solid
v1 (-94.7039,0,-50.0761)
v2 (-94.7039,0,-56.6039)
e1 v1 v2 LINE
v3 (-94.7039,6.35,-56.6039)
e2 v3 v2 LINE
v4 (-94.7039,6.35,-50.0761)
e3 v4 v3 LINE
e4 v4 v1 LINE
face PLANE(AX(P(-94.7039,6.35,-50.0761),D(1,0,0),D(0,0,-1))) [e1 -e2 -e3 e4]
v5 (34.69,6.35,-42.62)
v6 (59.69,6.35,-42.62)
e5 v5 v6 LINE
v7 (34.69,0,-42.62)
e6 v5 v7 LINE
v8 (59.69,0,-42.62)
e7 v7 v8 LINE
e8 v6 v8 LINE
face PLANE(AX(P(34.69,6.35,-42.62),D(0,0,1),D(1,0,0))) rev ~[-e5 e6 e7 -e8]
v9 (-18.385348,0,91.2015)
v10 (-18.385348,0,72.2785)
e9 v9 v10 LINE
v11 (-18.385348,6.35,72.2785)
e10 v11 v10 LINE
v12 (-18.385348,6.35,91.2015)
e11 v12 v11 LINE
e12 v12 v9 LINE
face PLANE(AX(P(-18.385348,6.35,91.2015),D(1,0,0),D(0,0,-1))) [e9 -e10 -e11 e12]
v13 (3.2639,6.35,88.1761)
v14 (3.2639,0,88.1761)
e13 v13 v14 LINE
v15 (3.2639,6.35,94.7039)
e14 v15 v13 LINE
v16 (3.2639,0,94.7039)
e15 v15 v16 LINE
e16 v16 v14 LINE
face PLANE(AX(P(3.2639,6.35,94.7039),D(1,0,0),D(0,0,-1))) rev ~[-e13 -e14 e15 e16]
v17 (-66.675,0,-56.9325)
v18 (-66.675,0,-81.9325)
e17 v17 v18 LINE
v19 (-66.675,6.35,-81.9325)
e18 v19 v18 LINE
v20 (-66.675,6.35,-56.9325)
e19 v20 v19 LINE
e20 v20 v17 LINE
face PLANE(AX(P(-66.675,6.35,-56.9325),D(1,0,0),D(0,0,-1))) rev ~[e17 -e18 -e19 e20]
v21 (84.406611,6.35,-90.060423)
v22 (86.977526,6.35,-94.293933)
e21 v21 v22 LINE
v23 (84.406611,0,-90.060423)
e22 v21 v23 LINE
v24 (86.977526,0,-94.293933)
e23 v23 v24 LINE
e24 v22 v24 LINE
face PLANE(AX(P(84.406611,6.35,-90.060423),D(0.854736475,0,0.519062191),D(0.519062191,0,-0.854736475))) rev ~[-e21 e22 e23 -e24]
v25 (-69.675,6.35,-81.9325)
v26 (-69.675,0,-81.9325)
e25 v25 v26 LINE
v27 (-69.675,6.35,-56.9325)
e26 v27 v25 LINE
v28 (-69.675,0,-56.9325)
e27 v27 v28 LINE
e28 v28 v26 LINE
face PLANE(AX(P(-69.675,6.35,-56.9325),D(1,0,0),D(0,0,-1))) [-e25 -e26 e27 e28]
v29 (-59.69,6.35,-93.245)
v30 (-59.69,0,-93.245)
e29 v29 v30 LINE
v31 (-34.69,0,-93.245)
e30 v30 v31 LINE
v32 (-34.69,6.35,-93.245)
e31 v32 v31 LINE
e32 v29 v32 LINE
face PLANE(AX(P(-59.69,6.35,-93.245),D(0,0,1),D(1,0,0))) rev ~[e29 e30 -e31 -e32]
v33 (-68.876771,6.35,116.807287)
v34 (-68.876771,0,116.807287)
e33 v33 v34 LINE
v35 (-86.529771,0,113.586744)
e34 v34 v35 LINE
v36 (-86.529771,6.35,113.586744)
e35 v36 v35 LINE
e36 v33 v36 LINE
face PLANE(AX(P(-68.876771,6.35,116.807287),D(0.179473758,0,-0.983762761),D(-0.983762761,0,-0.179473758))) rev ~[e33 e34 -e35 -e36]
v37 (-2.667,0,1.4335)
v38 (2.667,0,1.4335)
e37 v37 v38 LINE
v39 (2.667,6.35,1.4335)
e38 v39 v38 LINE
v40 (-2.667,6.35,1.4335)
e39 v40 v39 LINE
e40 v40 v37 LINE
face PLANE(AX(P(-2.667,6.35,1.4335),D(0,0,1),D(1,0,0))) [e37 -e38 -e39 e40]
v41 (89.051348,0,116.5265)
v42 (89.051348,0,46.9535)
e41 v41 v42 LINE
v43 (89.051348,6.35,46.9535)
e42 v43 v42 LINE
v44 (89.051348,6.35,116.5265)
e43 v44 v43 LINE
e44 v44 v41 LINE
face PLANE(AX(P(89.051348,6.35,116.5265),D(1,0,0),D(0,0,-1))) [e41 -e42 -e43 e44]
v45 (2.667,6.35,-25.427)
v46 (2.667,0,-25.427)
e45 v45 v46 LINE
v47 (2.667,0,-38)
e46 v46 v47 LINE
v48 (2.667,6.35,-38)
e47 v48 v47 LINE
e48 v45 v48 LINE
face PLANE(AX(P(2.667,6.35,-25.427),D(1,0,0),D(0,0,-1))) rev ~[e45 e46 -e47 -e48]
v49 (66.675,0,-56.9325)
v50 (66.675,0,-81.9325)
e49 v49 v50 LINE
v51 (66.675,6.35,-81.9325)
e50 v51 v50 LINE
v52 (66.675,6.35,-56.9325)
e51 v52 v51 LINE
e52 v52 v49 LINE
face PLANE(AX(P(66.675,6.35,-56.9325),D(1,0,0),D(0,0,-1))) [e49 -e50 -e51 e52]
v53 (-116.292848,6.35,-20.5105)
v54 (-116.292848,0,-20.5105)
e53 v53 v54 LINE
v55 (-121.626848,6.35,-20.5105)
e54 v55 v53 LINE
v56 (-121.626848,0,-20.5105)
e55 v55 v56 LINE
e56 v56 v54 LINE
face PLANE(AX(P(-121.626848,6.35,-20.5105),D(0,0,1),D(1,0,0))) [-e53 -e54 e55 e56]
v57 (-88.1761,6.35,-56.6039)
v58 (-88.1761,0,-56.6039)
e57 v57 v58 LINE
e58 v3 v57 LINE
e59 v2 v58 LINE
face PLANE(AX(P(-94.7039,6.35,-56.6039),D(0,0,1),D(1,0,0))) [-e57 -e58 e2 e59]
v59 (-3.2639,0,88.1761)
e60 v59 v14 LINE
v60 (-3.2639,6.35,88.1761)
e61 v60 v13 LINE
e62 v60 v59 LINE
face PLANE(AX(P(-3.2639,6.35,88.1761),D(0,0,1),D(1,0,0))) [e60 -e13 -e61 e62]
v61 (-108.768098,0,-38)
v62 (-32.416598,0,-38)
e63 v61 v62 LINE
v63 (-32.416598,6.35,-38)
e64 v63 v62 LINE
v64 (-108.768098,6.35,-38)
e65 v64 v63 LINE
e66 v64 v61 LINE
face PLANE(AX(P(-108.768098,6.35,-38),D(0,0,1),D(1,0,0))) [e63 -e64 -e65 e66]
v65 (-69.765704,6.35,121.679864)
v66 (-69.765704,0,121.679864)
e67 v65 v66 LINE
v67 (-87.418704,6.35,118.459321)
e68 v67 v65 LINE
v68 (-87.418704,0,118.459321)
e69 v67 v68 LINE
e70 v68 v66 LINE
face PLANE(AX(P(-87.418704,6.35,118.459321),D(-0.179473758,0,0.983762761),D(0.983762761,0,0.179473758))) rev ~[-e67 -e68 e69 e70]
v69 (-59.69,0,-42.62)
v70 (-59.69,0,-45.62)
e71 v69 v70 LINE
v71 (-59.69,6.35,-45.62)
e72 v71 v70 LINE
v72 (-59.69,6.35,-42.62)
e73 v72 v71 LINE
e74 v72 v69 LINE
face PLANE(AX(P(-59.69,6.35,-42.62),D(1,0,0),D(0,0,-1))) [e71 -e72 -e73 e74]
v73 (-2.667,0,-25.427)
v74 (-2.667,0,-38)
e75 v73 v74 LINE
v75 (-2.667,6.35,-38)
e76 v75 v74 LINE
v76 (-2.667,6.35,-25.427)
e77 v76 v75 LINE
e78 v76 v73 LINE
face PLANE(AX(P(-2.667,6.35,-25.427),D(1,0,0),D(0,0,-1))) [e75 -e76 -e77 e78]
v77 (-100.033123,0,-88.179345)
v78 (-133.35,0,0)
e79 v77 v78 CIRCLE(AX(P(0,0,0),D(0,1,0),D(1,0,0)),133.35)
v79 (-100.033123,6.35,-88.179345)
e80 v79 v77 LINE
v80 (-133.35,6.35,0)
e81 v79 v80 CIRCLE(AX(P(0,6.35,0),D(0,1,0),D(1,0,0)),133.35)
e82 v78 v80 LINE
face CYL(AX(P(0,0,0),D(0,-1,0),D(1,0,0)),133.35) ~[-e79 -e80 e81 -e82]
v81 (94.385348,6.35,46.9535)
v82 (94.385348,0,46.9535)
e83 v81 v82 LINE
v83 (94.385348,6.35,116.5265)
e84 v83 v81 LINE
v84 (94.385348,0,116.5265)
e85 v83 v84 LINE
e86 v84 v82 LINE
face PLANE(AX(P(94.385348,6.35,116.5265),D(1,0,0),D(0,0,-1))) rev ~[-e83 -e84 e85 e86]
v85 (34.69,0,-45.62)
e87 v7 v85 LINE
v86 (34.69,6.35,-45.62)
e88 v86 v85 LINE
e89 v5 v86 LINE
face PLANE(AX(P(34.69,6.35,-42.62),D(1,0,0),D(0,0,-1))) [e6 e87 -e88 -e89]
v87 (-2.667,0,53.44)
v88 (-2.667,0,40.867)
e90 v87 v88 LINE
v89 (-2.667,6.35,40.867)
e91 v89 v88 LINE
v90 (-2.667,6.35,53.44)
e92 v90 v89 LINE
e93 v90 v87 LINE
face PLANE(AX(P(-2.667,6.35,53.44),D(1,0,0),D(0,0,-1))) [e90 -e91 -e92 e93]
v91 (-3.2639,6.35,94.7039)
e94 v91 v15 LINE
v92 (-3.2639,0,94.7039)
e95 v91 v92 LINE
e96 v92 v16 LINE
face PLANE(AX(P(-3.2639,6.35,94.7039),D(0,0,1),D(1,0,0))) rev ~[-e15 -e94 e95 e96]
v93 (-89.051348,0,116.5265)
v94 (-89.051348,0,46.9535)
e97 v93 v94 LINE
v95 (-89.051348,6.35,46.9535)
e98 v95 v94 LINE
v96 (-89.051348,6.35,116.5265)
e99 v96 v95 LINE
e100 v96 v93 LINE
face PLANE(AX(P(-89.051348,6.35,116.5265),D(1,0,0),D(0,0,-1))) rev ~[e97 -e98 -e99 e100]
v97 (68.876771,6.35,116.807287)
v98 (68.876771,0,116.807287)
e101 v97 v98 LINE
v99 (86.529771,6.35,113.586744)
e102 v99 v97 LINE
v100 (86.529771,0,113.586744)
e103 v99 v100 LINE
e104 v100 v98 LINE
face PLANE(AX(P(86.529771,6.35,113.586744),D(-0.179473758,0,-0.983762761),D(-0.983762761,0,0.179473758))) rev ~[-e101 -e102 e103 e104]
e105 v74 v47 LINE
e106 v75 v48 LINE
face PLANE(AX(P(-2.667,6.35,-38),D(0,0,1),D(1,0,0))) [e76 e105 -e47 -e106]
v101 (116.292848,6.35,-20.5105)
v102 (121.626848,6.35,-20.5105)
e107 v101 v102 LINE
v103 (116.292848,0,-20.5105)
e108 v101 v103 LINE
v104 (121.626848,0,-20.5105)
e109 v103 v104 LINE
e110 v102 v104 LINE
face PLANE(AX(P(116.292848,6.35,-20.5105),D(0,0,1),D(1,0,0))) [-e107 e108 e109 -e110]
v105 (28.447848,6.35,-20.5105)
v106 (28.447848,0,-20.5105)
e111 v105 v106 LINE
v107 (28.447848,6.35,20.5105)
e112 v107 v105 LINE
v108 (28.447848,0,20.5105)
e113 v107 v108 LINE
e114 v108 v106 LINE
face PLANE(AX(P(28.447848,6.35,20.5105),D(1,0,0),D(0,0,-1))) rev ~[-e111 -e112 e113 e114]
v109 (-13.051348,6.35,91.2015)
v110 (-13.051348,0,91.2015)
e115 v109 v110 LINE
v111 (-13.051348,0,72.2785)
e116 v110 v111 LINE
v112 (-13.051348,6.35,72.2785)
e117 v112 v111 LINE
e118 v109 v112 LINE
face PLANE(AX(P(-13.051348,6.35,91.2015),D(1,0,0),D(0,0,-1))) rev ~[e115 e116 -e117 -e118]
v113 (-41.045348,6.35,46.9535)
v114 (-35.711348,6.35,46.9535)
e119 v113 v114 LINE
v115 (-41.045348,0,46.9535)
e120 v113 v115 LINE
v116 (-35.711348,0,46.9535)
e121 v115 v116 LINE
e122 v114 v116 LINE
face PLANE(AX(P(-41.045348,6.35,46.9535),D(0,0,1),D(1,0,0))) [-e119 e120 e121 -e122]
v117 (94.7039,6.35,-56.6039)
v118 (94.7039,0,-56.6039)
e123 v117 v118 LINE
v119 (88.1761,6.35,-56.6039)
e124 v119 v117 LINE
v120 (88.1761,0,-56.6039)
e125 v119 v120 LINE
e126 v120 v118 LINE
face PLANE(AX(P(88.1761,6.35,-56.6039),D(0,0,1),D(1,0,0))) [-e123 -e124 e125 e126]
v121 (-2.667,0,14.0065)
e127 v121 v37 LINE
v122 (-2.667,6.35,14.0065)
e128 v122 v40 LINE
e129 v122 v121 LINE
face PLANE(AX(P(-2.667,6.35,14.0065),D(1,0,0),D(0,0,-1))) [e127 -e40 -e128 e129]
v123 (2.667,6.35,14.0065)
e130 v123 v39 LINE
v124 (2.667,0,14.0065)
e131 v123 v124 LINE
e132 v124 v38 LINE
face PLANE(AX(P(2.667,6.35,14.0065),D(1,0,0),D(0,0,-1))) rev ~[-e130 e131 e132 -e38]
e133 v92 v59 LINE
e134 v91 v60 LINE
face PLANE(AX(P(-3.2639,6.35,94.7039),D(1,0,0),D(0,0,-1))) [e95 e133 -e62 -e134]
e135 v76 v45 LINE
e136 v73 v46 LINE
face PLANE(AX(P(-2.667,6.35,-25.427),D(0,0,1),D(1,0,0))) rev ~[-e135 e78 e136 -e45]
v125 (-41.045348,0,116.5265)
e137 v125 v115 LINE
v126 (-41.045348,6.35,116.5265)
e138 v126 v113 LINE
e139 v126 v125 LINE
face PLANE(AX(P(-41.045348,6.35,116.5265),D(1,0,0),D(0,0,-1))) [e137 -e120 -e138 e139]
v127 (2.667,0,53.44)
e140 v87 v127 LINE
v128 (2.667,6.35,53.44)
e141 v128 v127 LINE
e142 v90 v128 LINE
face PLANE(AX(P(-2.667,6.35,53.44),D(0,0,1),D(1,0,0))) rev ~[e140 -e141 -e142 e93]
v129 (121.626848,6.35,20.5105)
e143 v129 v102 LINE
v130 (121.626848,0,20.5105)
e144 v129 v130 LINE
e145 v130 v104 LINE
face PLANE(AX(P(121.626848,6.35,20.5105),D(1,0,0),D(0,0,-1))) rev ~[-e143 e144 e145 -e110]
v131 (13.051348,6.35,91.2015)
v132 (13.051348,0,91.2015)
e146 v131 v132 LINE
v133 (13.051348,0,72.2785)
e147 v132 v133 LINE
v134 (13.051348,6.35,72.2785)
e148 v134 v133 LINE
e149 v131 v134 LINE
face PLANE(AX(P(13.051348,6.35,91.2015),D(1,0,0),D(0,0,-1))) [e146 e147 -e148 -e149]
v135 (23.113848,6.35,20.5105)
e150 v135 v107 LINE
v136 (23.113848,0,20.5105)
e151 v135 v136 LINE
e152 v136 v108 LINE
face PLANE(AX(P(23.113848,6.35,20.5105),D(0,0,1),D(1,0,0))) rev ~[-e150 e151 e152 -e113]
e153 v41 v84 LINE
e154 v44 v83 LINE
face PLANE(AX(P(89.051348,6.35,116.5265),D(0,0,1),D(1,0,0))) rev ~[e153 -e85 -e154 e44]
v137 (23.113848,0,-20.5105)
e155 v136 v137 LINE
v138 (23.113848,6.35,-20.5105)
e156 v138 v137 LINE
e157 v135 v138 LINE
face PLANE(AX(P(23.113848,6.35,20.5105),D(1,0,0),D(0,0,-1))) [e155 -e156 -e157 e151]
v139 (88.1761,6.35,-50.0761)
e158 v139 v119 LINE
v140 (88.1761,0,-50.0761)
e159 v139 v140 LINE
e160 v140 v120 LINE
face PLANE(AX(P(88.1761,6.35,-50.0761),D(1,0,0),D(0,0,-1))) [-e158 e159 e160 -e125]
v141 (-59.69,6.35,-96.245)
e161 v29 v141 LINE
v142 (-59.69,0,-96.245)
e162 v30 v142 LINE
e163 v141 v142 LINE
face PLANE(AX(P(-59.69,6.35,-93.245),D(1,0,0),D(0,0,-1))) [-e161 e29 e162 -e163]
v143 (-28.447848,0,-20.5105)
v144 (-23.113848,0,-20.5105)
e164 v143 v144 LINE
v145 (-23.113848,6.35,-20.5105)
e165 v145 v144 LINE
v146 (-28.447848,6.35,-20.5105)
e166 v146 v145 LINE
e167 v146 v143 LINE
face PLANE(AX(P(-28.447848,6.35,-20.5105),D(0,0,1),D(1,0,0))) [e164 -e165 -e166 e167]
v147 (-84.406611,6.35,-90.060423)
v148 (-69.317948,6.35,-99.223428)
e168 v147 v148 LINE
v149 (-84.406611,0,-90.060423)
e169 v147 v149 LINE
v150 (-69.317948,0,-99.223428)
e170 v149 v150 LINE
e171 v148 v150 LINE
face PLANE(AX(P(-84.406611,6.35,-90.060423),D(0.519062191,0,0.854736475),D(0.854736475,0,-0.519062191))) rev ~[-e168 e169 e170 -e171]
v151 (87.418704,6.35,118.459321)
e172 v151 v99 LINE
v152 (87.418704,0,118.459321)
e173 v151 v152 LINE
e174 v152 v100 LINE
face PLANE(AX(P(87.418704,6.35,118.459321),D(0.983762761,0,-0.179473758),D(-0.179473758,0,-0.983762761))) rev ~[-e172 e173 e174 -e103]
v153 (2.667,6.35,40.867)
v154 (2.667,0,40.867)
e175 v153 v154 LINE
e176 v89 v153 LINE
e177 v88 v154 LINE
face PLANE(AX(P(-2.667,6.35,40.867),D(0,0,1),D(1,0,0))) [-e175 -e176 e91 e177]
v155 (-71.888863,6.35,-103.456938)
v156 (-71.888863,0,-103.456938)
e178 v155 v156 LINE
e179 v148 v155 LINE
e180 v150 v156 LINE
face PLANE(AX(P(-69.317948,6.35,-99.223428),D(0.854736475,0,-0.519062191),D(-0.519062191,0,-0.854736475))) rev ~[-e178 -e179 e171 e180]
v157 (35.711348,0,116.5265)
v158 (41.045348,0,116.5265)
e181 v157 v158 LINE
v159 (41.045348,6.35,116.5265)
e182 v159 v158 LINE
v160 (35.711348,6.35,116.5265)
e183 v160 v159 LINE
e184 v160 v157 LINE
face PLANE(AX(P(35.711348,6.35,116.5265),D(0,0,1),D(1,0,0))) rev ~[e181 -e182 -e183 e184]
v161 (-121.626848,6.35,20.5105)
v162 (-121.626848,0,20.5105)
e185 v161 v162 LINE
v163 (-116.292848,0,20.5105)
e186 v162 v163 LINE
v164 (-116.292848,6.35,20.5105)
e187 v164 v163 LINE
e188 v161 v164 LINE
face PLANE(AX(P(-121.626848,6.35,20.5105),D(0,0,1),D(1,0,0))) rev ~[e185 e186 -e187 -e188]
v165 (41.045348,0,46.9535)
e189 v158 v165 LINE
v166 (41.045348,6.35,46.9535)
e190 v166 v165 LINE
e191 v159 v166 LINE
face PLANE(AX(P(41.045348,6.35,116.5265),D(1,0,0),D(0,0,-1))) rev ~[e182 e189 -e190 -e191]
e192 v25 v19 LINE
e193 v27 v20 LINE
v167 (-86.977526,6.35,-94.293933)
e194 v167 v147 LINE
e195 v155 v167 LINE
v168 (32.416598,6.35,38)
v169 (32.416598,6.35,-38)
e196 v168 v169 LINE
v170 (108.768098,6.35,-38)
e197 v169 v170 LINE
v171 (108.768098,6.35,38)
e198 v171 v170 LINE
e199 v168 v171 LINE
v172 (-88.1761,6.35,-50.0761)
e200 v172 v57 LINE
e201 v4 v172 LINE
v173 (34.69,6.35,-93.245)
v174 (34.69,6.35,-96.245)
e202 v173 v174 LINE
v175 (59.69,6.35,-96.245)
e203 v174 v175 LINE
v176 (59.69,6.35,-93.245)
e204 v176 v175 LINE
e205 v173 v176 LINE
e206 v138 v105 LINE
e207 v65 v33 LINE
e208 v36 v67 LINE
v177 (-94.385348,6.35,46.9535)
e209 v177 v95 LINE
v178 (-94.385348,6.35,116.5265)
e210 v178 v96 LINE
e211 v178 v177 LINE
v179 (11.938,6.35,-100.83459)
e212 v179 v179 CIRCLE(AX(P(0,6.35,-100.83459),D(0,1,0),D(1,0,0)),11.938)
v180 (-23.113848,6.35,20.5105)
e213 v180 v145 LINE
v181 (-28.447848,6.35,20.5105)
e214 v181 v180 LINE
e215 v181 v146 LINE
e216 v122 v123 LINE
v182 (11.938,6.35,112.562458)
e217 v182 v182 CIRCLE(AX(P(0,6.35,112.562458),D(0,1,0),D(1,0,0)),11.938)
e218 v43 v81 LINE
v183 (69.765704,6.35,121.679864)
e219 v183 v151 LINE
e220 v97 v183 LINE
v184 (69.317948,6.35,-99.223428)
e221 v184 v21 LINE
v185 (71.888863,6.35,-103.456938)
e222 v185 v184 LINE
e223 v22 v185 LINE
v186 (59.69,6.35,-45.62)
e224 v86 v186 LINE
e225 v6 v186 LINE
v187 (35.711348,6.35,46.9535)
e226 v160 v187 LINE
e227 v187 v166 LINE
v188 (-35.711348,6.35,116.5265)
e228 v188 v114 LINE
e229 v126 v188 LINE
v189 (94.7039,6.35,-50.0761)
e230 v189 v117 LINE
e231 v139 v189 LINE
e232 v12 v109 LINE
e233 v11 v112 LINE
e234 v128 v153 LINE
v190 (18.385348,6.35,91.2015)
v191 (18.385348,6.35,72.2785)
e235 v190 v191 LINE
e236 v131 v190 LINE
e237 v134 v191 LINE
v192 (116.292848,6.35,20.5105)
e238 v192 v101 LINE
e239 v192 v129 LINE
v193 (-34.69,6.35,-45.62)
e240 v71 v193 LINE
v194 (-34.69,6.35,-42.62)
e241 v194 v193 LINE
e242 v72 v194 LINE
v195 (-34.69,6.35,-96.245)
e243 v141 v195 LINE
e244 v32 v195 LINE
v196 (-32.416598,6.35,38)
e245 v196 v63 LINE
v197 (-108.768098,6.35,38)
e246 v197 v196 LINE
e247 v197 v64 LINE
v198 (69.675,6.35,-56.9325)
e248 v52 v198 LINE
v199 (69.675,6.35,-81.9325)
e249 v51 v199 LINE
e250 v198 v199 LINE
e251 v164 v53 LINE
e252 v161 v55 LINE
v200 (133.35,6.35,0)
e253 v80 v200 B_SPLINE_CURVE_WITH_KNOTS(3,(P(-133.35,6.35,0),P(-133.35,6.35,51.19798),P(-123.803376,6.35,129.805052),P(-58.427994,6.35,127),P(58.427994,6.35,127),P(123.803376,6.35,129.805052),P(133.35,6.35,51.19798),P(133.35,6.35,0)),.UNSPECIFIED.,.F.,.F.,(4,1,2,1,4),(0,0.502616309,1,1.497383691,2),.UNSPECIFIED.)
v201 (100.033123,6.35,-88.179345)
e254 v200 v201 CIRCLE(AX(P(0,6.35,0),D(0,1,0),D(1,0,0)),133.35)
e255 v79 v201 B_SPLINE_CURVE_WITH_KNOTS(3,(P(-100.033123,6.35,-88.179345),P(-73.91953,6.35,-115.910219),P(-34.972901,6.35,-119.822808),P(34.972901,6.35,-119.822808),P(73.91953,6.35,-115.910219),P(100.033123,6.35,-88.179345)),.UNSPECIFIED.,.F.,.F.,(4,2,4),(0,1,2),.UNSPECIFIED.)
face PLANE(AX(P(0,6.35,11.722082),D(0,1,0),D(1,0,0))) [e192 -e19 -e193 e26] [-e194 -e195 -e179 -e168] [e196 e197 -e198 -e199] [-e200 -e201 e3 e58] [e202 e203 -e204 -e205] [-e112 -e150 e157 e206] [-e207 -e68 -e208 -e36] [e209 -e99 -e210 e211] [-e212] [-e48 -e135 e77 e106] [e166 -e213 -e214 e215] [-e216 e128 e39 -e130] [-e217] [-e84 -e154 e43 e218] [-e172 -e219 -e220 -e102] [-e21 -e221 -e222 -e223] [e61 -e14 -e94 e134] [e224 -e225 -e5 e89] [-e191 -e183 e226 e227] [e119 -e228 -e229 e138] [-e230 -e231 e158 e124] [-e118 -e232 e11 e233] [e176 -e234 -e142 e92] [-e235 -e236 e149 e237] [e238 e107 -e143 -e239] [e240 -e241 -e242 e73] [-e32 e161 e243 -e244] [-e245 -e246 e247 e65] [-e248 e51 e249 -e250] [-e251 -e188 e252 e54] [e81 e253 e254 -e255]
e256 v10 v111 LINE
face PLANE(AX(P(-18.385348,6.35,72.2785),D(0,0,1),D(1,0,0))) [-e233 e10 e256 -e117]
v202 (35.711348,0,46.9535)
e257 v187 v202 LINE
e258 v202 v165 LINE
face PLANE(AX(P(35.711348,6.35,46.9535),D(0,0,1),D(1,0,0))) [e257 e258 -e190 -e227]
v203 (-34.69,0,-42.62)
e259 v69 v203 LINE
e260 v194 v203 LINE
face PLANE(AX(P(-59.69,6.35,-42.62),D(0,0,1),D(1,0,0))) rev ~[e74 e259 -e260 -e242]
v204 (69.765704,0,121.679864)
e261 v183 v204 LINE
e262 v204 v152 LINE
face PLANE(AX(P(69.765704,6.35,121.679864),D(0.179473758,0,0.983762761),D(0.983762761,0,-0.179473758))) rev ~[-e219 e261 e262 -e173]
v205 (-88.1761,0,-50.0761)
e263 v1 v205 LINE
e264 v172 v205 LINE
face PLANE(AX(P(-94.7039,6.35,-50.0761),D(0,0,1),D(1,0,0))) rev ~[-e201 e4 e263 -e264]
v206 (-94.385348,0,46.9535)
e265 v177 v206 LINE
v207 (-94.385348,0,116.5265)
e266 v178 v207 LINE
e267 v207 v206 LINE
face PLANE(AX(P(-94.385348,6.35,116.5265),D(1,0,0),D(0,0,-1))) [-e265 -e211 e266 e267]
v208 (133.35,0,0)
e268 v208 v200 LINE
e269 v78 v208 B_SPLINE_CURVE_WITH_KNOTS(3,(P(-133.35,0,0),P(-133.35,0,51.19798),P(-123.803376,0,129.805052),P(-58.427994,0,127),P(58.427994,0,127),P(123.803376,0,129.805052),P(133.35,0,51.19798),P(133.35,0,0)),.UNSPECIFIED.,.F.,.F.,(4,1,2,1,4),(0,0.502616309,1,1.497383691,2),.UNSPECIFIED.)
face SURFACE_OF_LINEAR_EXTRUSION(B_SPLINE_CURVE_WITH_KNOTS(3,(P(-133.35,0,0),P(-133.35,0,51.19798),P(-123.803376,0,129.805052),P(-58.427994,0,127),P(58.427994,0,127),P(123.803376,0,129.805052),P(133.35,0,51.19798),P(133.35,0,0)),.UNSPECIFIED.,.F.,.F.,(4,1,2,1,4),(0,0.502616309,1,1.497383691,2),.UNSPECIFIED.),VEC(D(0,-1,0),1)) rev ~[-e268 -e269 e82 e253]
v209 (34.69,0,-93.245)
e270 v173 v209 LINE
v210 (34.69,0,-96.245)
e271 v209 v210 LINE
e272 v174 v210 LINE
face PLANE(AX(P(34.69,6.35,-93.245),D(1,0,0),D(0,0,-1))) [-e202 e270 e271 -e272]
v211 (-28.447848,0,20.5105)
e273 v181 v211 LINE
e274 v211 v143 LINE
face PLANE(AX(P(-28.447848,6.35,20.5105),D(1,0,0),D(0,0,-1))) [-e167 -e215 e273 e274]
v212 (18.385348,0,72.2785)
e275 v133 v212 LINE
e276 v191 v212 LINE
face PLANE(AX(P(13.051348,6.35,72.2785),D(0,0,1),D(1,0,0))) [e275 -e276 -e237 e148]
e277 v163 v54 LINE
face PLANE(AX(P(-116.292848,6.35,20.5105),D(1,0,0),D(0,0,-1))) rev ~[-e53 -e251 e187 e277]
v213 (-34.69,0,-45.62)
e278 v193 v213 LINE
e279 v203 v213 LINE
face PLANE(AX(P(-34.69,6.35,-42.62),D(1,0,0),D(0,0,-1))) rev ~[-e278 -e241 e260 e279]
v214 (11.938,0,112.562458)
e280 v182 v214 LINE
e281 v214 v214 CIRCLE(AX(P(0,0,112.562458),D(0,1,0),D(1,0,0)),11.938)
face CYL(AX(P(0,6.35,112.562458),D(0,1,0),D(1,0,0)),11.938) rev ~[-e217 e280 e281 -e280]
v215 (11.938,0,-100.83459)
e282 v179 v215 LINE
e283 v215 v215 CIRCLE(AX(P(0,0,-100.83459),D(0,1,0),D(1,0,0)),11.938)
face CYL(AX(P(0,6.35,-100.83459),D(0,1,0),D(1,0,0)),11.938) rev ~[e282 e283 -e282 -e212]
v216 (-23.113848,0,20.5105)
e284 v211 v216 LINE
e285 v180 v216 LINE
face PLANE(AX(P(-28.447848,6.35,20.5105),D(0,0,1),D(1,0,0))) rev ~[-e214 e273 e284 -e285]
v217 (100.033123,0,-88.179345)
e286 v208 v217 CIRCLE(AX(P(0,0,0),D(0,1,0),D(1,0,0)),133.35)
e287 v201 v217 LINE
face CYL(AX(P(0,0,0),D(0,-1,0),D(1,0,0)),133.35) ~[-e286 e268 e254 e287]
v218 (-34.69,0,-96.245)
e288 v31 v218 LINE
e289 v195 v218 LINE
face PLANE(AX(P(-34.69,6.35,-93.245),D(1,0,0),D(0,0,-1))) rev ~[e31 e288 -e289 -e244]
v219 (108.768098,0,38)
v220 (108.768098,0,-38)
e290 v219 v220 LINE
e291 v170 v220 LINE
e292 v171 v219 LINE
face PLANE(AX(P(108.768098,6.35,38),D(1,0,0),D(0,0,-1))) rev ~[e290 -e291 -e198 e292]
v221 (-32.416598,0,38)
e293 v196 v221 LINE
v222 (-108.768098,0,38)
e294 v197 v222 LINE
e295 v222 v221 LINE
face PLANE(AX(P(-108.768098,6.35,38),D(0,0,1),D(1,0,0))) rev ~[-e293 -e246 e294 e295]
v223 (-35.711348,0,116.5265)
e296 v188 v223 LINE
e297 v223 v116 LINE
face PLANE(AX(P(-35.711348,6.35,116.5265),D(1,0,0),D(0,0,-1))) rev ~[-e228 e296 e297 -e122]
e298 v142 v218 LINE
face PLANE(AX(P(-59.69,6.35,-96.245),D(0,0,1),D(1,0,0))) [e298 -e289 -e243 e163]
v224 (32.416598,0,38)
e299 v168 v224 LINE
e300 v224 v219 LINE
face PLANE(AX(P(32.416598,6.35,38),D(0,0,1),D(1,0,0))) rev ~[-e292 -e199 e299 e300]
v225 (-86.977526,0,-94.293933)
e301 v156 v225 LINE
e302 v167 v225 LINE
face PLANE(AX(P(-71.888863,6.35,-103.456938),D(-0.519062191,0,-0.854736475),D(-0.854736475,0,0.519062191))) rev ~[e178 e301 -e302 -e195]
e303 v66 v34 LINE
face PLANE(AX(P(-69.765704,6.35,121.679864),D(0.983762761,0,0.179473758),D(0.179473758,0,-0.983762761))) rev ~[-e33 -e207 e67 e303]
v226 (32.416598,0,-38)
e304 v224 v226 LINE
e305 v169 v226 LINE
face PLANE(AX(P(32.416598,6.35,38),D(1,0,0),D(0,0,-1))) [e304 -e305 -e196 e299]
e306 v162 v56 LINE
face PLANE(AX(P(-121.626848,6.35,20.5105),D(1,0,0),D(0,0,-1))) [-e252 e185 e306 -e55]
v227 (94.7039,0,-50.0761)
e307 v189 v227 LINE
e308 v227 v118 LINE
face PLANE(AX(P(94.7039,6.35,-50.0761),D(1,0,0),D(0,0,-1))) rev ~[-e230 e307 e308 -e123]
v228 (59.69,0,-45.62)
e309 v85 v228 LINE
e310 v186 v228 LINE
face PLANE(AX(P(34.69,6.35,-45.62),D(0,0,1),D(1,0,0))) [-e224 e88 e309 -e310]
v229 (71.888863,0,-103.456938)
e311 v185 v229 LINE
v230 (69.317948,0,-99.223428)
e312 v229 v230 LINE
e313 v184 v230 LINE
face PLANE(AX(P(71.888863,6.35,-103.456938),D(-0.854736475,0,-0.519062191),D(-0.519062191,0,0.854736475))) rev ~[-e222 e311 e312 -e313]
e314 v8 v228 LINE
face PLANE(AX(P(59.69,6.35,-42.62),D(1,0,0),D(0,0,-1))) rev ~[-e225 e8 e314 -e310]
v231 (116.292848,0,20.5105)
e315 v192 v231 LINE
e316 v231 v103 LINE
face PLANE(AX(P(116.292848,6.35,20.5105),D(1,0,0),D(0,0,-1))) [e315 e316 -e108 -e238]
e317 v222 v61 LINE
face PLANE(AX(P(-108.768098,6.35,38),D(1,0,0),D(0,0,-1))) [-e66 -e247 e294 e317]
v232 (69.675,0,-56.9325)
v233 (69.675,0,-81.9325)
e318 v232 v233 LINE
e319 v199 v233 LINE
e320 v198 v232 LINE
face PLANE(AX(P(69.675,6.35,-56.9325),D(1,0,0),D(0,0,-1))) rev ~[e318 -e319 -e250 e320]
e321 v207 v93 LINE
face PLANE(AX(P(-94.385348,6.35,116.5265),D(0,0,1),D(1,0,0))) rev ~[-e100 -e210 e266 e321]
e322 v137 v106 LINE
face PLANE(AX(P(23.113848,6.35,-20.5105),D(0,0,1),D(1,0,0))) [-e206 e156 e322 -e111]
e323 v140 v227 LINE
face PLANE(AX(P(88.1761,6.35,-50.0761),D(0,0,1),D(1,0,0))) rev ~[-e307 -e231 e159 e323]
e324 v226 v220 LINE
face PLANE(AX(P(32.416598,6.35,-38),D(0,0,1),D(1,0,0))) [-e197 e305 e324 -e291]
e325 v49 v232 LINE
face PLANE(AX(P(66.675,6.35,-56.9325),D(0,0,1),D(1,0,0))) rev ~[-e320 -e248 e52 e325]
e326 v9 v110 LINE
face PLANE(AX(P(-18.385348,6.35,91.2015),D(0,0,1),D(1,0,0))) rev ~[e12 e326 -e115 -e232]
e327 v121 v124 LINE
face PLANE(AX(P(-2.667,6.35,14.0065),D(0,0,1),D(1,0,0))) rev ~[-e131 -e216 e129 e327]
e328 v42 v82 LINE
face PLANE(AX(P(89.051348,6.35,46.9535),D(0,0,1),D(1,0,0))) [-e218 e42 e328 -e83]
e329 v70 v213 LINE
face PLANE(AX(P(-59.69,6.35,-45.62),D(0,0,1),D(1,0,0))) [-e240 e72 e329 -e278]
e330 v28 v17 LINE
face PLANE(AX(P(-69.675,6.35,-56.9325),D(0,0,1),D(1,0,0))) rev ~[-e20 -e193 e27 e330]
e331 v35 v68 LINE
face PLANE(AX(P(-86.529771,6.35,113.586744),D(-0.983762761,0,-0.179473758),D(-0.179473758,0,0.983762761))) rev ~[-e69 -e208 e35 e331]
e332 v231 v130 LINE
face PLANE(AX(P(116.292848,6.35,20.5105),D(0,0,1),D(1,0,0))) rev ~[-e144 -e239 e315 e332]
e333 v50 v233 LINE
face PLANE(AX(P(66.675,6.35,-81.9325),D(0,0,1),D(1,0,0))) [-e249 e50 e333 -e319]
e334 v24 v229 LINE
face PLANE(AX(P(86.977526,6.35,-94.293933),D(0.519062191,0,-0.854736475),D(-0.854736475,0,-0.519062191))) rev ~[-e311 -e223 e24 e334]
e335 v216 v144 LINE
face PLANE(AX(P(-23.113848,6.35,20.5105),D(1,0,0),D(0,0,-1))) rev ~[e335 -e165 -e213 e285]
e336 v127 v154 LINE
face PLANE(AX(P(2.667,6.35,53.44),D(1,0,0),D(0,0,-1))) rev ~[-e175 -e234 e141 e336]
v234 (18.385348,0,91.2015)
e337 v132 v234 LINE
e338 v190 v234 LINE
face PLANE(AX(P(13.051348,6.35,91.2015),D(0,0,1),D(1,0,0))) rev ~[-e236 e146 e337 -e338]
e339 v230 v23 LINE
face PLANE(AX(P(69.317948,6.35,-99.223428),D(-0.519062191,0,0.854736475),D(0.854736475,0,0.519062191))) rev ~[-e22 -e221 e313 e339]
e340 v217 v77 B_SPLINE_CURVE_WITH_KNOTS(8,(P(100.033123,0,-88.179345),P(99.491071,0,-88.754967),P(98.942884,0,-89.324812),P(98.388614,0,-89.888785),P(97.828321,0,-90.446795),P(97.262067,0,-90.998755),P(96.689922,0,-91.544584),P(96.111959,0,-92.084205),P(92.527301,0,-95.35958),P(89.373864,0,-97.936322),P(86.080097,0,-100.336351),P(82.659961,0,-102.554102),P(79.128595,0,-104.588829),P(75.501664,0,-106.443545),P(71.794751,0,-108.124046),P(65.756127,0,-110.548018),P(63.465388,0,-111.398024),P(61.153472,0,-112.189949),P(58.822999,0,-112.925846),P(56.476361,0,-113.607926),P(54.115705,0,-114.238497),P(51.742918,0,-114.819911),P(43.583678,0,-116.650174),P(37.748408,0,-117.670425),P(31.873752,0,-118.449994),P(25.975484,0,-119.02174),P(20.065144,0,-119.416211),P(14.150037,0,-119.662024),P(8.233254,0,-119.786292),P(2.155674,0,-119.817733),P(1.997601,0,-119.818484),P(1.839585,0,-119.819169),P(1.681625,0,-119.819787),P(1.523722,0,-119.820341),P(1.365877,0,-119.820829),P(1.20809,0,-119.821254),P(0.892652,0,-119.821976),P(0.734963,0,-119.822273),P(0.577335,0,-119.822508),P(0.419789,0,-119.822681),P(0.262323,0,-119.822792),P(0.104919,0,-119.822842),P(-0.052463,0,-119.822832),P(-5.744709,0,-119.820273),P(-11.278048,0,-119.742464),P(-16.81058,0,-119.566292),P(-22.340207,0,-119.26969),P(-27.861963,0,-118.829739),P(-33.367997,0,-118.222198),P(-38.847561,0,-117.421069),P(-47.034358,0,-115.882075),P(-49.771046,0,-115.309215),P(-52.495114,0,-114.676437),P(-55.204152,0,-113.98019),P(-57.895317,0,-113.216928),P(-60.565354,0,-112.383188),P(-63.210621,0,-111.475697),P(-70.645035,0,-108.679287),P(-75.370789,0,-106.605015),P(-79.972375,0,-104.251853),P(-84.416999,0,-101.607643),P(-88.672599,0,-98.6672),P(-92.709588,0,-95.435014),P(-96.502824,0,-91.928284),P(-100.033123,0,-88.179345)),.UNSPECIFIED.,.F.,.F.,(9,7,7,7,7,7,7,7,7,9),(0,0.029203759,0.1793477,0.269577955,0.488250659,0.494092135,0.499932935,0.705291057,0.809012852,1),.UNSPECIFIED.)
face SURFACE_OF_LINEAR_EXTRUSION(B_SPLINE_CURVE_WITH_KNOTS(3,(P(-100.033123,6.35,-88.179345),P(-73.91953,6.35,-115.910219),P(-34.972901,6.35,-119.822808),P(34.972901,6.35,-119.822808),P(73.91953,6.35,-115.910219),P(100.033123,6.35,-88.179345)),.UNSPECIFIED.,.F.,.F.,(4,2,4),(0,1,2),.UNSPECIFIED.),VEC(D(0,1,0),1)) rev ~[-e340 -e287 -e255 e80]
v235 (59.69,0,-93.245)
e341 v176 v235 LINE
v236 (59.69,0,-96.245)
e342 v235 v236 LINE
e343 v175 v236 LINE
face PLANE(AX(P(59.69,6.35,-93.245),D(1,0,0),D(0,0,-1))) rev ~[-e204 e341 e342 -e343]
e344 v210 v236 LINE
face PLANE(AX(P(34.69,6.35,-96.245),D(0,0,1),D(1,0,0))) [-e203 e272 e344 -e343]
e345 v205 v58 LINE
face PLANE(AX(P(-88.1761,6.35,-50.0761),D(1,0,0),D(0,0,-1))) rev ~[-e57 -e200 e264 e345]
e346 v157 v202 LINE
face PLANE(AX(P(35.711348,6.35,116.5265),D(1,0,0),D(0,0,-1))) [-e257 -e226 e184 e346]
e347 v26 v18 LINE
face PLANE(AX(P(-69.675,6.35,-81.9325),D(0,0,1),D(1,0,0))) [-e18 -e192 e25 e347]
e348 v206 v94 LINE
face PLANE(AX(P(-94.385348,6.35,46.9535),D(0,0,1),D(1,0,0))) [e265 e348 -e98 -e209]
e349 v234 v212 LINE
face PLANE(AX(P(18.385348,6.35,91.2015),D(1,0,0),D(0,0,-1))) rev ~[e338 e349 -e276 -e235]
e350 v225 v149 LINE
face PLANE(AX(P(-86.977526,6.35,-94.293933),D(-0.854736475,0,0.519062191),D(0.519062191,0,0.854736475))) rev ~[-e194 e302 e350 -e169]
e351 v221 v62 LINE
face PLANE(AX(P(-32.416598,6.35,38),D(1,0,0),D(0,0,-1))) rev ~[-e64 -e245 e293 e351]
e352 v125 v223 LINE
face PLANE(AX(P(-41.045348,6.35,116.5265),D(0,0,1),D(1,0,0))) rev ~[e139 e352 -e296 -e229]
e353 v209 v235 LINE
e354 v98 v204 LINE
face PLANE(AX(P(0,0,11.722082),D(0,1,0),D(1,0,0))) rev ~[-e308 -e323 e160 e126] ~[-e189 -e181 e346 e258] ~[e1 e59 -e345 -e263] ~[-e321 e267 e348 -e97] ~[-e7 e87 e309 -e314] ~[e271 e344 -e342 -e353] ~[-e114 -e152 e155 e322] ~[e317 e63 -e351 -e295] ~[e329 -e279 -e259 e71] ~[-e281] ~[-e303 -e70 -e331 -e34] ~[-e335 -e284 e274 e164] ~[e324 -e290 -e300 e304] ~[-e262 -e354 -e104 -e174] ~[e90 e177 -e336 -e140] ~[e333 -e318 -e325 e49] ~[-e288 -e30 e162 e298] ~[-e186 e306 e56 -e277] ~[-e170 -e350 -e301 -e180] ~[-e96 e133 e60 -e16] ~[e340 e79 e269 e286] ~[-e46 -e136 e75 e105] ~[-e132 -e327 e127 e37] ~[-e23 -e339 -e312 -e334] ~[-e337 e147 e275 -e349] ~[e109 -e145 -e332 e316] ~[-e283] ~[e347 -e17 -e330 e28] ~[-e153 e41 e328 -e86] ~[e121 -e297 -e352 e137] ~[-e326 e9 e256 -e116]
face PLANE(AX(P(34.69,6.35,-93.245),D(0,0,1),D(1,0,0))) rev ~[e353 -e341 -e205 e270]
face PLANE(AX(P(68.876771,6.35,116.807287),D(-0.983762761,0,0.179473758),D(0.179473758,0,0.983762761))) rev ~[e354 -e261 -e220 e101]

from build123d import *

# Parameters (mm, degrees)
BASE_DEPTH            = 6.35
SKETCH6_W             = 76.3515
SKETCH6_H             = 76
SKETCH6_W_2           = 5.334
SKETCH6_H_2           = 41.021
WHEELSHAFTCUT_DEPTH   = 7.3500001
SKETCH8_W             = 5.334
SKETCH8_H             = 69.573
SKETCH8_H_2           = 18.923
MOTORCUT_DEPTH        = 7.3500001
SKETCH10_W            = 25
SKETCH10_H            = 3
SKETCH10_W_2          = 3
SKETCH10_H_2          = 25
VELCROCUT_DEPTH       = 7.3500001
SKETCH11_W            = 6.5278
SKETCH11_H            = 6.5278
SCREWCUT_DEPTH        = 7.3500001
SKETCH13_W            = 5.334
SKETCH13_H            = 12.573
SUPPORTSTRUTCUT_DEPTH = 7.3500001
EMPTYSPACETRIM_DEPTH  = 7.3500001
TAPESENSORCUT_DEPTH   = 7.3500001
SKETCH17_R            = 11.938
CASTERCUT_DEPTH       = 7.3500001


with BuildPart() as part:
    # Sketch1 → Base (new body)
    with BuildSketch(Plane(origin=(0, 0, 0), x_dir=(1, 0, 0), z_dir=(0, 1, 0))):
        with BuildLine():
            ThreePointArc((133.35, 0), (0, 133.35), (-133.35, 0))
            add(Edge.make_bspline(
                [(-133.35, 0), (-133.35, -51.197979728), (-123.803376308, -129.805052089), (-58.427993604, -127), (0, -127)],
                knots=[0, 0, 0, 0, 0.502616309, 1, 1, 1, 1], degree=3))
            add(Edge.make_bspline(
                [(133.35, 0), (133.35, -51.197979728), (123.803376308, -129.805052089), (58.427993604, -127), (0, -127)],
                knots=[0, 0, 0, 0, 0.502616309, 1, 1, 1, 1], degree=3))
        make_face()
    extrude(amount=BASE_DEPTH)

    # Sketch6 → WheelShaftCut (cut, through all)
    with BuildSketch(Plane(origin=(0, 6.35, 0), x_dir=(1, 0, 0), z_dir=(0, 1, 0))):
        with Locations((-70.592348141, 0)):
            Rectangle(SKETCH6_W, SKETCH6_H)
        with Locations((-118.959848141, 0)):
            Rectangle(SKETCH6_W_2, SKETCH6_H_2)
        with Locations((-25.780848141, 0)):
            Rectangle(SKETCH6_W_2, SKETCH6_H_2)
        with Locations((25.780848141, 0)):
            Rectangle(SKETCH6_W_2, SKETCH6_H_2)
        with Locations((118.959848141, 0)):
            Rectangle(SKETCH6_W_2, SKETCH6_H_2)
        with Locations((70.592348141, 0)):
            Rectangle(SKETCH6_W, SKETCH6_H)
    extrude(amount=-WHEELSHAFTCUT_DEPTH, mode=Mode.SUBTRACT)

    # Sketch8 → MotorCut (cut, through all)
    with BuildSketch(Plane(origin=(0, 6.35, 0), x_dir=(1, 0, 0), z_dir=(0, 1, 0))):
        with Locations((-38.378348141, -81.74)):
            Rectangle(SKETCH8_W, SKETCH8_H)
        with Locations((-91.718348141, -81.74)):
            Rectangle(SKETCH8_W, SKETCH8_H)
        with Locations((15.718348141, -81.74)):
            Rectangle(SKETCH8_W, SKETCH8_H_2)
        with Locations((91.718348141, -81.74)):
            Rectangle(SKETCH8_W, SKETCH8_H)
        with Locations((38.378348141, -81.74)):
            Rectangle(SKETCH8_W, SKETCH8_H)
        with Locations((-15.718348141, -81.74)):
            Rectangle(SKETCH8_W, SKETCH8_H_2)
    extrude(amount=-MOTORCUT_DEPTH, mode=Mode.SUBTRACT)

    # Sketch10 → VelcroCut (cut, through all)
    with BuildSketch(Plane(origin=(0, 6.35, 0), x_dir=(1, 0, 0), z_dir=(0, 1, 0))):
        with Locations((-47.19, 44.12)):
            Rectangle(SKETCH10_W, SKETCH10_H)
        with Locations((-47.19, 94.745)):
            Rectangle(SKETCH10_W, SKETCH10_H)
        with Locations((-68.175, 69.4325)):
            Rectangle(SKETCH10_W_2, SKETCH10_H_2)
        with Locations((68.175, 69.4325)):
            Rectangle(SKETCH10_W_2, SKETCH10_H_2)
        with Locations((47.19, 94.745)):
            Rectangle(SKETCH10_W, SKETCH10_H)
        with Locations((47.19, 44.12)):
            Rectangle(SKETCH10_W, SKETCH10_H)
    extrude(amount=-VELCROCUT_DEPTH, mode=Mode.SUBTRACT)

    # Sketch11 → ScrewCut (cut, through all)
    with BuildSketch(Plane(origin=(0, 6.35, 0), x_dir=(1, 0, 0), z_dir=(0, 1, 0))):
        with Locations((-91.44, 53.34)):
            Rectangle(SKETCH11_W, SKETCH11_H)
        with Locations((91.44, 53.34)):
            Rectangle(SKETCH11_W, SKETCH11_H)
        with Locations((0, -91.44)):
            Rectangle(SKETCH11_W, SKETCH11_H)
    extrude(amount=-SCREWCUT_DEPTH, mode=Mode.SUBTRACT)

    # Sketch13 → SupportStrutCut (cut, through all)
    with BuildSketch(Plane(origin=(0, 6.35, 0), x_dir=(1, 0, 0), z_dir=(0, 1, 0))):
        with Locations((0, 31.7135)):
            Rectangle(SKETCH13_W, SKETCH13_H)
        with Locations((0, -7.72)):
            Rectangle(SKETCH13_W, SKETCH13_H)
        with Locations((0, -47.1535)):
            Rectangle(SKETCH13_W, SKETCH13_H)
    extrude(amount=-SUPPORTSTRUTCUT_DEPTH, mode=Mode.SUBTRACT)

    # Sketch16 → EmptySpaceTrim (cut, through all)
    with BuildSketch(Plane(origin=(0, 6.35, 0), x_dir=(1, 0, 0), z_dir=(0, 1, 0))):
        with BuildLine():
            Line((-100.033122546, 133.35), (-100.033122546, 88.179345052))
            add(Edge.make_bspline(
                [(-100.033122546, 88.179345052), (-73.919529929, 115.91021885), (-34.972901221, 119.822808394), (0, 119.822808394)],
                knots=[0, 0, 0, 0, 1, 1, 1, 1], degree=3))
            add(Edge.make_bspline(
                [(100.033122546, 88.179345052), (73.919529929, 115.91021885), (34.972901221, 119.822808394), (0, 119.822808394)],
                knots=[0, 0, 0, 0, 1, 1, 1, 1], degree=3))
            Line((100.033122546, 88.179345052), (100.033122546, 133.35))
            Line((100.033122546, 133.35), (-100.033122546, 133.35))
        make_face()
    extrude(amount=-EMPTYSPACETRIM_DEPTH, mode=Mode.SUBTRACT)

    # Sketch15 → TapeSensorCut (cut, through all)
    with BuildSketch(Plane(origin=(0, 6.35, 0), x_dir=(1, 0, 0), z_dir=(0, 1, 0))):
        Polygon((-87.418704088, -118.459321106), (-69.765704088, -121.679864084), (-68.876770565, -116.807287128), (-86.529770565, -113.58674415), align=None)
        Polygon((-84.406611309, 90.060423031), (-69.317948313, 99.223427887), (-71.888863344, 103.456937649), (-86.97752634, 94.293932793), align=None)
        Polygon((86.97752634, 94.293932793), (71.888863344, 103.456937649), (69.317948313, 99.223427887), (84.406611309, 90.060423031), align=None)
        Polygon((86.529770565, -113.58674415), (68.876770565, -116.807287128), (69.765704088, -121.679864084), (87.418704088, -118.459321106), align=None)
    extrude(amount=-TAPESENSORCUT_DEPTH, mode=Mode.SUBTRACT)

    # Sketch17 → CasterCut (cut, through all)
    with BuildSketch(Plane(origin=(0, 6.35, 0), x_dir=(1, 0, 0), z_dir=(0, 1, 0))):
        with Locations((0, 100.834589665)):
            Circle(SKETCH17_R)
        with Locations((0, -112.562458365)):
            Circle(SKETCH17_R)
    extrude(amount=-CASTERCUT_DEPTH, mode=Mode.SUBTRACT)


solid = part.part
